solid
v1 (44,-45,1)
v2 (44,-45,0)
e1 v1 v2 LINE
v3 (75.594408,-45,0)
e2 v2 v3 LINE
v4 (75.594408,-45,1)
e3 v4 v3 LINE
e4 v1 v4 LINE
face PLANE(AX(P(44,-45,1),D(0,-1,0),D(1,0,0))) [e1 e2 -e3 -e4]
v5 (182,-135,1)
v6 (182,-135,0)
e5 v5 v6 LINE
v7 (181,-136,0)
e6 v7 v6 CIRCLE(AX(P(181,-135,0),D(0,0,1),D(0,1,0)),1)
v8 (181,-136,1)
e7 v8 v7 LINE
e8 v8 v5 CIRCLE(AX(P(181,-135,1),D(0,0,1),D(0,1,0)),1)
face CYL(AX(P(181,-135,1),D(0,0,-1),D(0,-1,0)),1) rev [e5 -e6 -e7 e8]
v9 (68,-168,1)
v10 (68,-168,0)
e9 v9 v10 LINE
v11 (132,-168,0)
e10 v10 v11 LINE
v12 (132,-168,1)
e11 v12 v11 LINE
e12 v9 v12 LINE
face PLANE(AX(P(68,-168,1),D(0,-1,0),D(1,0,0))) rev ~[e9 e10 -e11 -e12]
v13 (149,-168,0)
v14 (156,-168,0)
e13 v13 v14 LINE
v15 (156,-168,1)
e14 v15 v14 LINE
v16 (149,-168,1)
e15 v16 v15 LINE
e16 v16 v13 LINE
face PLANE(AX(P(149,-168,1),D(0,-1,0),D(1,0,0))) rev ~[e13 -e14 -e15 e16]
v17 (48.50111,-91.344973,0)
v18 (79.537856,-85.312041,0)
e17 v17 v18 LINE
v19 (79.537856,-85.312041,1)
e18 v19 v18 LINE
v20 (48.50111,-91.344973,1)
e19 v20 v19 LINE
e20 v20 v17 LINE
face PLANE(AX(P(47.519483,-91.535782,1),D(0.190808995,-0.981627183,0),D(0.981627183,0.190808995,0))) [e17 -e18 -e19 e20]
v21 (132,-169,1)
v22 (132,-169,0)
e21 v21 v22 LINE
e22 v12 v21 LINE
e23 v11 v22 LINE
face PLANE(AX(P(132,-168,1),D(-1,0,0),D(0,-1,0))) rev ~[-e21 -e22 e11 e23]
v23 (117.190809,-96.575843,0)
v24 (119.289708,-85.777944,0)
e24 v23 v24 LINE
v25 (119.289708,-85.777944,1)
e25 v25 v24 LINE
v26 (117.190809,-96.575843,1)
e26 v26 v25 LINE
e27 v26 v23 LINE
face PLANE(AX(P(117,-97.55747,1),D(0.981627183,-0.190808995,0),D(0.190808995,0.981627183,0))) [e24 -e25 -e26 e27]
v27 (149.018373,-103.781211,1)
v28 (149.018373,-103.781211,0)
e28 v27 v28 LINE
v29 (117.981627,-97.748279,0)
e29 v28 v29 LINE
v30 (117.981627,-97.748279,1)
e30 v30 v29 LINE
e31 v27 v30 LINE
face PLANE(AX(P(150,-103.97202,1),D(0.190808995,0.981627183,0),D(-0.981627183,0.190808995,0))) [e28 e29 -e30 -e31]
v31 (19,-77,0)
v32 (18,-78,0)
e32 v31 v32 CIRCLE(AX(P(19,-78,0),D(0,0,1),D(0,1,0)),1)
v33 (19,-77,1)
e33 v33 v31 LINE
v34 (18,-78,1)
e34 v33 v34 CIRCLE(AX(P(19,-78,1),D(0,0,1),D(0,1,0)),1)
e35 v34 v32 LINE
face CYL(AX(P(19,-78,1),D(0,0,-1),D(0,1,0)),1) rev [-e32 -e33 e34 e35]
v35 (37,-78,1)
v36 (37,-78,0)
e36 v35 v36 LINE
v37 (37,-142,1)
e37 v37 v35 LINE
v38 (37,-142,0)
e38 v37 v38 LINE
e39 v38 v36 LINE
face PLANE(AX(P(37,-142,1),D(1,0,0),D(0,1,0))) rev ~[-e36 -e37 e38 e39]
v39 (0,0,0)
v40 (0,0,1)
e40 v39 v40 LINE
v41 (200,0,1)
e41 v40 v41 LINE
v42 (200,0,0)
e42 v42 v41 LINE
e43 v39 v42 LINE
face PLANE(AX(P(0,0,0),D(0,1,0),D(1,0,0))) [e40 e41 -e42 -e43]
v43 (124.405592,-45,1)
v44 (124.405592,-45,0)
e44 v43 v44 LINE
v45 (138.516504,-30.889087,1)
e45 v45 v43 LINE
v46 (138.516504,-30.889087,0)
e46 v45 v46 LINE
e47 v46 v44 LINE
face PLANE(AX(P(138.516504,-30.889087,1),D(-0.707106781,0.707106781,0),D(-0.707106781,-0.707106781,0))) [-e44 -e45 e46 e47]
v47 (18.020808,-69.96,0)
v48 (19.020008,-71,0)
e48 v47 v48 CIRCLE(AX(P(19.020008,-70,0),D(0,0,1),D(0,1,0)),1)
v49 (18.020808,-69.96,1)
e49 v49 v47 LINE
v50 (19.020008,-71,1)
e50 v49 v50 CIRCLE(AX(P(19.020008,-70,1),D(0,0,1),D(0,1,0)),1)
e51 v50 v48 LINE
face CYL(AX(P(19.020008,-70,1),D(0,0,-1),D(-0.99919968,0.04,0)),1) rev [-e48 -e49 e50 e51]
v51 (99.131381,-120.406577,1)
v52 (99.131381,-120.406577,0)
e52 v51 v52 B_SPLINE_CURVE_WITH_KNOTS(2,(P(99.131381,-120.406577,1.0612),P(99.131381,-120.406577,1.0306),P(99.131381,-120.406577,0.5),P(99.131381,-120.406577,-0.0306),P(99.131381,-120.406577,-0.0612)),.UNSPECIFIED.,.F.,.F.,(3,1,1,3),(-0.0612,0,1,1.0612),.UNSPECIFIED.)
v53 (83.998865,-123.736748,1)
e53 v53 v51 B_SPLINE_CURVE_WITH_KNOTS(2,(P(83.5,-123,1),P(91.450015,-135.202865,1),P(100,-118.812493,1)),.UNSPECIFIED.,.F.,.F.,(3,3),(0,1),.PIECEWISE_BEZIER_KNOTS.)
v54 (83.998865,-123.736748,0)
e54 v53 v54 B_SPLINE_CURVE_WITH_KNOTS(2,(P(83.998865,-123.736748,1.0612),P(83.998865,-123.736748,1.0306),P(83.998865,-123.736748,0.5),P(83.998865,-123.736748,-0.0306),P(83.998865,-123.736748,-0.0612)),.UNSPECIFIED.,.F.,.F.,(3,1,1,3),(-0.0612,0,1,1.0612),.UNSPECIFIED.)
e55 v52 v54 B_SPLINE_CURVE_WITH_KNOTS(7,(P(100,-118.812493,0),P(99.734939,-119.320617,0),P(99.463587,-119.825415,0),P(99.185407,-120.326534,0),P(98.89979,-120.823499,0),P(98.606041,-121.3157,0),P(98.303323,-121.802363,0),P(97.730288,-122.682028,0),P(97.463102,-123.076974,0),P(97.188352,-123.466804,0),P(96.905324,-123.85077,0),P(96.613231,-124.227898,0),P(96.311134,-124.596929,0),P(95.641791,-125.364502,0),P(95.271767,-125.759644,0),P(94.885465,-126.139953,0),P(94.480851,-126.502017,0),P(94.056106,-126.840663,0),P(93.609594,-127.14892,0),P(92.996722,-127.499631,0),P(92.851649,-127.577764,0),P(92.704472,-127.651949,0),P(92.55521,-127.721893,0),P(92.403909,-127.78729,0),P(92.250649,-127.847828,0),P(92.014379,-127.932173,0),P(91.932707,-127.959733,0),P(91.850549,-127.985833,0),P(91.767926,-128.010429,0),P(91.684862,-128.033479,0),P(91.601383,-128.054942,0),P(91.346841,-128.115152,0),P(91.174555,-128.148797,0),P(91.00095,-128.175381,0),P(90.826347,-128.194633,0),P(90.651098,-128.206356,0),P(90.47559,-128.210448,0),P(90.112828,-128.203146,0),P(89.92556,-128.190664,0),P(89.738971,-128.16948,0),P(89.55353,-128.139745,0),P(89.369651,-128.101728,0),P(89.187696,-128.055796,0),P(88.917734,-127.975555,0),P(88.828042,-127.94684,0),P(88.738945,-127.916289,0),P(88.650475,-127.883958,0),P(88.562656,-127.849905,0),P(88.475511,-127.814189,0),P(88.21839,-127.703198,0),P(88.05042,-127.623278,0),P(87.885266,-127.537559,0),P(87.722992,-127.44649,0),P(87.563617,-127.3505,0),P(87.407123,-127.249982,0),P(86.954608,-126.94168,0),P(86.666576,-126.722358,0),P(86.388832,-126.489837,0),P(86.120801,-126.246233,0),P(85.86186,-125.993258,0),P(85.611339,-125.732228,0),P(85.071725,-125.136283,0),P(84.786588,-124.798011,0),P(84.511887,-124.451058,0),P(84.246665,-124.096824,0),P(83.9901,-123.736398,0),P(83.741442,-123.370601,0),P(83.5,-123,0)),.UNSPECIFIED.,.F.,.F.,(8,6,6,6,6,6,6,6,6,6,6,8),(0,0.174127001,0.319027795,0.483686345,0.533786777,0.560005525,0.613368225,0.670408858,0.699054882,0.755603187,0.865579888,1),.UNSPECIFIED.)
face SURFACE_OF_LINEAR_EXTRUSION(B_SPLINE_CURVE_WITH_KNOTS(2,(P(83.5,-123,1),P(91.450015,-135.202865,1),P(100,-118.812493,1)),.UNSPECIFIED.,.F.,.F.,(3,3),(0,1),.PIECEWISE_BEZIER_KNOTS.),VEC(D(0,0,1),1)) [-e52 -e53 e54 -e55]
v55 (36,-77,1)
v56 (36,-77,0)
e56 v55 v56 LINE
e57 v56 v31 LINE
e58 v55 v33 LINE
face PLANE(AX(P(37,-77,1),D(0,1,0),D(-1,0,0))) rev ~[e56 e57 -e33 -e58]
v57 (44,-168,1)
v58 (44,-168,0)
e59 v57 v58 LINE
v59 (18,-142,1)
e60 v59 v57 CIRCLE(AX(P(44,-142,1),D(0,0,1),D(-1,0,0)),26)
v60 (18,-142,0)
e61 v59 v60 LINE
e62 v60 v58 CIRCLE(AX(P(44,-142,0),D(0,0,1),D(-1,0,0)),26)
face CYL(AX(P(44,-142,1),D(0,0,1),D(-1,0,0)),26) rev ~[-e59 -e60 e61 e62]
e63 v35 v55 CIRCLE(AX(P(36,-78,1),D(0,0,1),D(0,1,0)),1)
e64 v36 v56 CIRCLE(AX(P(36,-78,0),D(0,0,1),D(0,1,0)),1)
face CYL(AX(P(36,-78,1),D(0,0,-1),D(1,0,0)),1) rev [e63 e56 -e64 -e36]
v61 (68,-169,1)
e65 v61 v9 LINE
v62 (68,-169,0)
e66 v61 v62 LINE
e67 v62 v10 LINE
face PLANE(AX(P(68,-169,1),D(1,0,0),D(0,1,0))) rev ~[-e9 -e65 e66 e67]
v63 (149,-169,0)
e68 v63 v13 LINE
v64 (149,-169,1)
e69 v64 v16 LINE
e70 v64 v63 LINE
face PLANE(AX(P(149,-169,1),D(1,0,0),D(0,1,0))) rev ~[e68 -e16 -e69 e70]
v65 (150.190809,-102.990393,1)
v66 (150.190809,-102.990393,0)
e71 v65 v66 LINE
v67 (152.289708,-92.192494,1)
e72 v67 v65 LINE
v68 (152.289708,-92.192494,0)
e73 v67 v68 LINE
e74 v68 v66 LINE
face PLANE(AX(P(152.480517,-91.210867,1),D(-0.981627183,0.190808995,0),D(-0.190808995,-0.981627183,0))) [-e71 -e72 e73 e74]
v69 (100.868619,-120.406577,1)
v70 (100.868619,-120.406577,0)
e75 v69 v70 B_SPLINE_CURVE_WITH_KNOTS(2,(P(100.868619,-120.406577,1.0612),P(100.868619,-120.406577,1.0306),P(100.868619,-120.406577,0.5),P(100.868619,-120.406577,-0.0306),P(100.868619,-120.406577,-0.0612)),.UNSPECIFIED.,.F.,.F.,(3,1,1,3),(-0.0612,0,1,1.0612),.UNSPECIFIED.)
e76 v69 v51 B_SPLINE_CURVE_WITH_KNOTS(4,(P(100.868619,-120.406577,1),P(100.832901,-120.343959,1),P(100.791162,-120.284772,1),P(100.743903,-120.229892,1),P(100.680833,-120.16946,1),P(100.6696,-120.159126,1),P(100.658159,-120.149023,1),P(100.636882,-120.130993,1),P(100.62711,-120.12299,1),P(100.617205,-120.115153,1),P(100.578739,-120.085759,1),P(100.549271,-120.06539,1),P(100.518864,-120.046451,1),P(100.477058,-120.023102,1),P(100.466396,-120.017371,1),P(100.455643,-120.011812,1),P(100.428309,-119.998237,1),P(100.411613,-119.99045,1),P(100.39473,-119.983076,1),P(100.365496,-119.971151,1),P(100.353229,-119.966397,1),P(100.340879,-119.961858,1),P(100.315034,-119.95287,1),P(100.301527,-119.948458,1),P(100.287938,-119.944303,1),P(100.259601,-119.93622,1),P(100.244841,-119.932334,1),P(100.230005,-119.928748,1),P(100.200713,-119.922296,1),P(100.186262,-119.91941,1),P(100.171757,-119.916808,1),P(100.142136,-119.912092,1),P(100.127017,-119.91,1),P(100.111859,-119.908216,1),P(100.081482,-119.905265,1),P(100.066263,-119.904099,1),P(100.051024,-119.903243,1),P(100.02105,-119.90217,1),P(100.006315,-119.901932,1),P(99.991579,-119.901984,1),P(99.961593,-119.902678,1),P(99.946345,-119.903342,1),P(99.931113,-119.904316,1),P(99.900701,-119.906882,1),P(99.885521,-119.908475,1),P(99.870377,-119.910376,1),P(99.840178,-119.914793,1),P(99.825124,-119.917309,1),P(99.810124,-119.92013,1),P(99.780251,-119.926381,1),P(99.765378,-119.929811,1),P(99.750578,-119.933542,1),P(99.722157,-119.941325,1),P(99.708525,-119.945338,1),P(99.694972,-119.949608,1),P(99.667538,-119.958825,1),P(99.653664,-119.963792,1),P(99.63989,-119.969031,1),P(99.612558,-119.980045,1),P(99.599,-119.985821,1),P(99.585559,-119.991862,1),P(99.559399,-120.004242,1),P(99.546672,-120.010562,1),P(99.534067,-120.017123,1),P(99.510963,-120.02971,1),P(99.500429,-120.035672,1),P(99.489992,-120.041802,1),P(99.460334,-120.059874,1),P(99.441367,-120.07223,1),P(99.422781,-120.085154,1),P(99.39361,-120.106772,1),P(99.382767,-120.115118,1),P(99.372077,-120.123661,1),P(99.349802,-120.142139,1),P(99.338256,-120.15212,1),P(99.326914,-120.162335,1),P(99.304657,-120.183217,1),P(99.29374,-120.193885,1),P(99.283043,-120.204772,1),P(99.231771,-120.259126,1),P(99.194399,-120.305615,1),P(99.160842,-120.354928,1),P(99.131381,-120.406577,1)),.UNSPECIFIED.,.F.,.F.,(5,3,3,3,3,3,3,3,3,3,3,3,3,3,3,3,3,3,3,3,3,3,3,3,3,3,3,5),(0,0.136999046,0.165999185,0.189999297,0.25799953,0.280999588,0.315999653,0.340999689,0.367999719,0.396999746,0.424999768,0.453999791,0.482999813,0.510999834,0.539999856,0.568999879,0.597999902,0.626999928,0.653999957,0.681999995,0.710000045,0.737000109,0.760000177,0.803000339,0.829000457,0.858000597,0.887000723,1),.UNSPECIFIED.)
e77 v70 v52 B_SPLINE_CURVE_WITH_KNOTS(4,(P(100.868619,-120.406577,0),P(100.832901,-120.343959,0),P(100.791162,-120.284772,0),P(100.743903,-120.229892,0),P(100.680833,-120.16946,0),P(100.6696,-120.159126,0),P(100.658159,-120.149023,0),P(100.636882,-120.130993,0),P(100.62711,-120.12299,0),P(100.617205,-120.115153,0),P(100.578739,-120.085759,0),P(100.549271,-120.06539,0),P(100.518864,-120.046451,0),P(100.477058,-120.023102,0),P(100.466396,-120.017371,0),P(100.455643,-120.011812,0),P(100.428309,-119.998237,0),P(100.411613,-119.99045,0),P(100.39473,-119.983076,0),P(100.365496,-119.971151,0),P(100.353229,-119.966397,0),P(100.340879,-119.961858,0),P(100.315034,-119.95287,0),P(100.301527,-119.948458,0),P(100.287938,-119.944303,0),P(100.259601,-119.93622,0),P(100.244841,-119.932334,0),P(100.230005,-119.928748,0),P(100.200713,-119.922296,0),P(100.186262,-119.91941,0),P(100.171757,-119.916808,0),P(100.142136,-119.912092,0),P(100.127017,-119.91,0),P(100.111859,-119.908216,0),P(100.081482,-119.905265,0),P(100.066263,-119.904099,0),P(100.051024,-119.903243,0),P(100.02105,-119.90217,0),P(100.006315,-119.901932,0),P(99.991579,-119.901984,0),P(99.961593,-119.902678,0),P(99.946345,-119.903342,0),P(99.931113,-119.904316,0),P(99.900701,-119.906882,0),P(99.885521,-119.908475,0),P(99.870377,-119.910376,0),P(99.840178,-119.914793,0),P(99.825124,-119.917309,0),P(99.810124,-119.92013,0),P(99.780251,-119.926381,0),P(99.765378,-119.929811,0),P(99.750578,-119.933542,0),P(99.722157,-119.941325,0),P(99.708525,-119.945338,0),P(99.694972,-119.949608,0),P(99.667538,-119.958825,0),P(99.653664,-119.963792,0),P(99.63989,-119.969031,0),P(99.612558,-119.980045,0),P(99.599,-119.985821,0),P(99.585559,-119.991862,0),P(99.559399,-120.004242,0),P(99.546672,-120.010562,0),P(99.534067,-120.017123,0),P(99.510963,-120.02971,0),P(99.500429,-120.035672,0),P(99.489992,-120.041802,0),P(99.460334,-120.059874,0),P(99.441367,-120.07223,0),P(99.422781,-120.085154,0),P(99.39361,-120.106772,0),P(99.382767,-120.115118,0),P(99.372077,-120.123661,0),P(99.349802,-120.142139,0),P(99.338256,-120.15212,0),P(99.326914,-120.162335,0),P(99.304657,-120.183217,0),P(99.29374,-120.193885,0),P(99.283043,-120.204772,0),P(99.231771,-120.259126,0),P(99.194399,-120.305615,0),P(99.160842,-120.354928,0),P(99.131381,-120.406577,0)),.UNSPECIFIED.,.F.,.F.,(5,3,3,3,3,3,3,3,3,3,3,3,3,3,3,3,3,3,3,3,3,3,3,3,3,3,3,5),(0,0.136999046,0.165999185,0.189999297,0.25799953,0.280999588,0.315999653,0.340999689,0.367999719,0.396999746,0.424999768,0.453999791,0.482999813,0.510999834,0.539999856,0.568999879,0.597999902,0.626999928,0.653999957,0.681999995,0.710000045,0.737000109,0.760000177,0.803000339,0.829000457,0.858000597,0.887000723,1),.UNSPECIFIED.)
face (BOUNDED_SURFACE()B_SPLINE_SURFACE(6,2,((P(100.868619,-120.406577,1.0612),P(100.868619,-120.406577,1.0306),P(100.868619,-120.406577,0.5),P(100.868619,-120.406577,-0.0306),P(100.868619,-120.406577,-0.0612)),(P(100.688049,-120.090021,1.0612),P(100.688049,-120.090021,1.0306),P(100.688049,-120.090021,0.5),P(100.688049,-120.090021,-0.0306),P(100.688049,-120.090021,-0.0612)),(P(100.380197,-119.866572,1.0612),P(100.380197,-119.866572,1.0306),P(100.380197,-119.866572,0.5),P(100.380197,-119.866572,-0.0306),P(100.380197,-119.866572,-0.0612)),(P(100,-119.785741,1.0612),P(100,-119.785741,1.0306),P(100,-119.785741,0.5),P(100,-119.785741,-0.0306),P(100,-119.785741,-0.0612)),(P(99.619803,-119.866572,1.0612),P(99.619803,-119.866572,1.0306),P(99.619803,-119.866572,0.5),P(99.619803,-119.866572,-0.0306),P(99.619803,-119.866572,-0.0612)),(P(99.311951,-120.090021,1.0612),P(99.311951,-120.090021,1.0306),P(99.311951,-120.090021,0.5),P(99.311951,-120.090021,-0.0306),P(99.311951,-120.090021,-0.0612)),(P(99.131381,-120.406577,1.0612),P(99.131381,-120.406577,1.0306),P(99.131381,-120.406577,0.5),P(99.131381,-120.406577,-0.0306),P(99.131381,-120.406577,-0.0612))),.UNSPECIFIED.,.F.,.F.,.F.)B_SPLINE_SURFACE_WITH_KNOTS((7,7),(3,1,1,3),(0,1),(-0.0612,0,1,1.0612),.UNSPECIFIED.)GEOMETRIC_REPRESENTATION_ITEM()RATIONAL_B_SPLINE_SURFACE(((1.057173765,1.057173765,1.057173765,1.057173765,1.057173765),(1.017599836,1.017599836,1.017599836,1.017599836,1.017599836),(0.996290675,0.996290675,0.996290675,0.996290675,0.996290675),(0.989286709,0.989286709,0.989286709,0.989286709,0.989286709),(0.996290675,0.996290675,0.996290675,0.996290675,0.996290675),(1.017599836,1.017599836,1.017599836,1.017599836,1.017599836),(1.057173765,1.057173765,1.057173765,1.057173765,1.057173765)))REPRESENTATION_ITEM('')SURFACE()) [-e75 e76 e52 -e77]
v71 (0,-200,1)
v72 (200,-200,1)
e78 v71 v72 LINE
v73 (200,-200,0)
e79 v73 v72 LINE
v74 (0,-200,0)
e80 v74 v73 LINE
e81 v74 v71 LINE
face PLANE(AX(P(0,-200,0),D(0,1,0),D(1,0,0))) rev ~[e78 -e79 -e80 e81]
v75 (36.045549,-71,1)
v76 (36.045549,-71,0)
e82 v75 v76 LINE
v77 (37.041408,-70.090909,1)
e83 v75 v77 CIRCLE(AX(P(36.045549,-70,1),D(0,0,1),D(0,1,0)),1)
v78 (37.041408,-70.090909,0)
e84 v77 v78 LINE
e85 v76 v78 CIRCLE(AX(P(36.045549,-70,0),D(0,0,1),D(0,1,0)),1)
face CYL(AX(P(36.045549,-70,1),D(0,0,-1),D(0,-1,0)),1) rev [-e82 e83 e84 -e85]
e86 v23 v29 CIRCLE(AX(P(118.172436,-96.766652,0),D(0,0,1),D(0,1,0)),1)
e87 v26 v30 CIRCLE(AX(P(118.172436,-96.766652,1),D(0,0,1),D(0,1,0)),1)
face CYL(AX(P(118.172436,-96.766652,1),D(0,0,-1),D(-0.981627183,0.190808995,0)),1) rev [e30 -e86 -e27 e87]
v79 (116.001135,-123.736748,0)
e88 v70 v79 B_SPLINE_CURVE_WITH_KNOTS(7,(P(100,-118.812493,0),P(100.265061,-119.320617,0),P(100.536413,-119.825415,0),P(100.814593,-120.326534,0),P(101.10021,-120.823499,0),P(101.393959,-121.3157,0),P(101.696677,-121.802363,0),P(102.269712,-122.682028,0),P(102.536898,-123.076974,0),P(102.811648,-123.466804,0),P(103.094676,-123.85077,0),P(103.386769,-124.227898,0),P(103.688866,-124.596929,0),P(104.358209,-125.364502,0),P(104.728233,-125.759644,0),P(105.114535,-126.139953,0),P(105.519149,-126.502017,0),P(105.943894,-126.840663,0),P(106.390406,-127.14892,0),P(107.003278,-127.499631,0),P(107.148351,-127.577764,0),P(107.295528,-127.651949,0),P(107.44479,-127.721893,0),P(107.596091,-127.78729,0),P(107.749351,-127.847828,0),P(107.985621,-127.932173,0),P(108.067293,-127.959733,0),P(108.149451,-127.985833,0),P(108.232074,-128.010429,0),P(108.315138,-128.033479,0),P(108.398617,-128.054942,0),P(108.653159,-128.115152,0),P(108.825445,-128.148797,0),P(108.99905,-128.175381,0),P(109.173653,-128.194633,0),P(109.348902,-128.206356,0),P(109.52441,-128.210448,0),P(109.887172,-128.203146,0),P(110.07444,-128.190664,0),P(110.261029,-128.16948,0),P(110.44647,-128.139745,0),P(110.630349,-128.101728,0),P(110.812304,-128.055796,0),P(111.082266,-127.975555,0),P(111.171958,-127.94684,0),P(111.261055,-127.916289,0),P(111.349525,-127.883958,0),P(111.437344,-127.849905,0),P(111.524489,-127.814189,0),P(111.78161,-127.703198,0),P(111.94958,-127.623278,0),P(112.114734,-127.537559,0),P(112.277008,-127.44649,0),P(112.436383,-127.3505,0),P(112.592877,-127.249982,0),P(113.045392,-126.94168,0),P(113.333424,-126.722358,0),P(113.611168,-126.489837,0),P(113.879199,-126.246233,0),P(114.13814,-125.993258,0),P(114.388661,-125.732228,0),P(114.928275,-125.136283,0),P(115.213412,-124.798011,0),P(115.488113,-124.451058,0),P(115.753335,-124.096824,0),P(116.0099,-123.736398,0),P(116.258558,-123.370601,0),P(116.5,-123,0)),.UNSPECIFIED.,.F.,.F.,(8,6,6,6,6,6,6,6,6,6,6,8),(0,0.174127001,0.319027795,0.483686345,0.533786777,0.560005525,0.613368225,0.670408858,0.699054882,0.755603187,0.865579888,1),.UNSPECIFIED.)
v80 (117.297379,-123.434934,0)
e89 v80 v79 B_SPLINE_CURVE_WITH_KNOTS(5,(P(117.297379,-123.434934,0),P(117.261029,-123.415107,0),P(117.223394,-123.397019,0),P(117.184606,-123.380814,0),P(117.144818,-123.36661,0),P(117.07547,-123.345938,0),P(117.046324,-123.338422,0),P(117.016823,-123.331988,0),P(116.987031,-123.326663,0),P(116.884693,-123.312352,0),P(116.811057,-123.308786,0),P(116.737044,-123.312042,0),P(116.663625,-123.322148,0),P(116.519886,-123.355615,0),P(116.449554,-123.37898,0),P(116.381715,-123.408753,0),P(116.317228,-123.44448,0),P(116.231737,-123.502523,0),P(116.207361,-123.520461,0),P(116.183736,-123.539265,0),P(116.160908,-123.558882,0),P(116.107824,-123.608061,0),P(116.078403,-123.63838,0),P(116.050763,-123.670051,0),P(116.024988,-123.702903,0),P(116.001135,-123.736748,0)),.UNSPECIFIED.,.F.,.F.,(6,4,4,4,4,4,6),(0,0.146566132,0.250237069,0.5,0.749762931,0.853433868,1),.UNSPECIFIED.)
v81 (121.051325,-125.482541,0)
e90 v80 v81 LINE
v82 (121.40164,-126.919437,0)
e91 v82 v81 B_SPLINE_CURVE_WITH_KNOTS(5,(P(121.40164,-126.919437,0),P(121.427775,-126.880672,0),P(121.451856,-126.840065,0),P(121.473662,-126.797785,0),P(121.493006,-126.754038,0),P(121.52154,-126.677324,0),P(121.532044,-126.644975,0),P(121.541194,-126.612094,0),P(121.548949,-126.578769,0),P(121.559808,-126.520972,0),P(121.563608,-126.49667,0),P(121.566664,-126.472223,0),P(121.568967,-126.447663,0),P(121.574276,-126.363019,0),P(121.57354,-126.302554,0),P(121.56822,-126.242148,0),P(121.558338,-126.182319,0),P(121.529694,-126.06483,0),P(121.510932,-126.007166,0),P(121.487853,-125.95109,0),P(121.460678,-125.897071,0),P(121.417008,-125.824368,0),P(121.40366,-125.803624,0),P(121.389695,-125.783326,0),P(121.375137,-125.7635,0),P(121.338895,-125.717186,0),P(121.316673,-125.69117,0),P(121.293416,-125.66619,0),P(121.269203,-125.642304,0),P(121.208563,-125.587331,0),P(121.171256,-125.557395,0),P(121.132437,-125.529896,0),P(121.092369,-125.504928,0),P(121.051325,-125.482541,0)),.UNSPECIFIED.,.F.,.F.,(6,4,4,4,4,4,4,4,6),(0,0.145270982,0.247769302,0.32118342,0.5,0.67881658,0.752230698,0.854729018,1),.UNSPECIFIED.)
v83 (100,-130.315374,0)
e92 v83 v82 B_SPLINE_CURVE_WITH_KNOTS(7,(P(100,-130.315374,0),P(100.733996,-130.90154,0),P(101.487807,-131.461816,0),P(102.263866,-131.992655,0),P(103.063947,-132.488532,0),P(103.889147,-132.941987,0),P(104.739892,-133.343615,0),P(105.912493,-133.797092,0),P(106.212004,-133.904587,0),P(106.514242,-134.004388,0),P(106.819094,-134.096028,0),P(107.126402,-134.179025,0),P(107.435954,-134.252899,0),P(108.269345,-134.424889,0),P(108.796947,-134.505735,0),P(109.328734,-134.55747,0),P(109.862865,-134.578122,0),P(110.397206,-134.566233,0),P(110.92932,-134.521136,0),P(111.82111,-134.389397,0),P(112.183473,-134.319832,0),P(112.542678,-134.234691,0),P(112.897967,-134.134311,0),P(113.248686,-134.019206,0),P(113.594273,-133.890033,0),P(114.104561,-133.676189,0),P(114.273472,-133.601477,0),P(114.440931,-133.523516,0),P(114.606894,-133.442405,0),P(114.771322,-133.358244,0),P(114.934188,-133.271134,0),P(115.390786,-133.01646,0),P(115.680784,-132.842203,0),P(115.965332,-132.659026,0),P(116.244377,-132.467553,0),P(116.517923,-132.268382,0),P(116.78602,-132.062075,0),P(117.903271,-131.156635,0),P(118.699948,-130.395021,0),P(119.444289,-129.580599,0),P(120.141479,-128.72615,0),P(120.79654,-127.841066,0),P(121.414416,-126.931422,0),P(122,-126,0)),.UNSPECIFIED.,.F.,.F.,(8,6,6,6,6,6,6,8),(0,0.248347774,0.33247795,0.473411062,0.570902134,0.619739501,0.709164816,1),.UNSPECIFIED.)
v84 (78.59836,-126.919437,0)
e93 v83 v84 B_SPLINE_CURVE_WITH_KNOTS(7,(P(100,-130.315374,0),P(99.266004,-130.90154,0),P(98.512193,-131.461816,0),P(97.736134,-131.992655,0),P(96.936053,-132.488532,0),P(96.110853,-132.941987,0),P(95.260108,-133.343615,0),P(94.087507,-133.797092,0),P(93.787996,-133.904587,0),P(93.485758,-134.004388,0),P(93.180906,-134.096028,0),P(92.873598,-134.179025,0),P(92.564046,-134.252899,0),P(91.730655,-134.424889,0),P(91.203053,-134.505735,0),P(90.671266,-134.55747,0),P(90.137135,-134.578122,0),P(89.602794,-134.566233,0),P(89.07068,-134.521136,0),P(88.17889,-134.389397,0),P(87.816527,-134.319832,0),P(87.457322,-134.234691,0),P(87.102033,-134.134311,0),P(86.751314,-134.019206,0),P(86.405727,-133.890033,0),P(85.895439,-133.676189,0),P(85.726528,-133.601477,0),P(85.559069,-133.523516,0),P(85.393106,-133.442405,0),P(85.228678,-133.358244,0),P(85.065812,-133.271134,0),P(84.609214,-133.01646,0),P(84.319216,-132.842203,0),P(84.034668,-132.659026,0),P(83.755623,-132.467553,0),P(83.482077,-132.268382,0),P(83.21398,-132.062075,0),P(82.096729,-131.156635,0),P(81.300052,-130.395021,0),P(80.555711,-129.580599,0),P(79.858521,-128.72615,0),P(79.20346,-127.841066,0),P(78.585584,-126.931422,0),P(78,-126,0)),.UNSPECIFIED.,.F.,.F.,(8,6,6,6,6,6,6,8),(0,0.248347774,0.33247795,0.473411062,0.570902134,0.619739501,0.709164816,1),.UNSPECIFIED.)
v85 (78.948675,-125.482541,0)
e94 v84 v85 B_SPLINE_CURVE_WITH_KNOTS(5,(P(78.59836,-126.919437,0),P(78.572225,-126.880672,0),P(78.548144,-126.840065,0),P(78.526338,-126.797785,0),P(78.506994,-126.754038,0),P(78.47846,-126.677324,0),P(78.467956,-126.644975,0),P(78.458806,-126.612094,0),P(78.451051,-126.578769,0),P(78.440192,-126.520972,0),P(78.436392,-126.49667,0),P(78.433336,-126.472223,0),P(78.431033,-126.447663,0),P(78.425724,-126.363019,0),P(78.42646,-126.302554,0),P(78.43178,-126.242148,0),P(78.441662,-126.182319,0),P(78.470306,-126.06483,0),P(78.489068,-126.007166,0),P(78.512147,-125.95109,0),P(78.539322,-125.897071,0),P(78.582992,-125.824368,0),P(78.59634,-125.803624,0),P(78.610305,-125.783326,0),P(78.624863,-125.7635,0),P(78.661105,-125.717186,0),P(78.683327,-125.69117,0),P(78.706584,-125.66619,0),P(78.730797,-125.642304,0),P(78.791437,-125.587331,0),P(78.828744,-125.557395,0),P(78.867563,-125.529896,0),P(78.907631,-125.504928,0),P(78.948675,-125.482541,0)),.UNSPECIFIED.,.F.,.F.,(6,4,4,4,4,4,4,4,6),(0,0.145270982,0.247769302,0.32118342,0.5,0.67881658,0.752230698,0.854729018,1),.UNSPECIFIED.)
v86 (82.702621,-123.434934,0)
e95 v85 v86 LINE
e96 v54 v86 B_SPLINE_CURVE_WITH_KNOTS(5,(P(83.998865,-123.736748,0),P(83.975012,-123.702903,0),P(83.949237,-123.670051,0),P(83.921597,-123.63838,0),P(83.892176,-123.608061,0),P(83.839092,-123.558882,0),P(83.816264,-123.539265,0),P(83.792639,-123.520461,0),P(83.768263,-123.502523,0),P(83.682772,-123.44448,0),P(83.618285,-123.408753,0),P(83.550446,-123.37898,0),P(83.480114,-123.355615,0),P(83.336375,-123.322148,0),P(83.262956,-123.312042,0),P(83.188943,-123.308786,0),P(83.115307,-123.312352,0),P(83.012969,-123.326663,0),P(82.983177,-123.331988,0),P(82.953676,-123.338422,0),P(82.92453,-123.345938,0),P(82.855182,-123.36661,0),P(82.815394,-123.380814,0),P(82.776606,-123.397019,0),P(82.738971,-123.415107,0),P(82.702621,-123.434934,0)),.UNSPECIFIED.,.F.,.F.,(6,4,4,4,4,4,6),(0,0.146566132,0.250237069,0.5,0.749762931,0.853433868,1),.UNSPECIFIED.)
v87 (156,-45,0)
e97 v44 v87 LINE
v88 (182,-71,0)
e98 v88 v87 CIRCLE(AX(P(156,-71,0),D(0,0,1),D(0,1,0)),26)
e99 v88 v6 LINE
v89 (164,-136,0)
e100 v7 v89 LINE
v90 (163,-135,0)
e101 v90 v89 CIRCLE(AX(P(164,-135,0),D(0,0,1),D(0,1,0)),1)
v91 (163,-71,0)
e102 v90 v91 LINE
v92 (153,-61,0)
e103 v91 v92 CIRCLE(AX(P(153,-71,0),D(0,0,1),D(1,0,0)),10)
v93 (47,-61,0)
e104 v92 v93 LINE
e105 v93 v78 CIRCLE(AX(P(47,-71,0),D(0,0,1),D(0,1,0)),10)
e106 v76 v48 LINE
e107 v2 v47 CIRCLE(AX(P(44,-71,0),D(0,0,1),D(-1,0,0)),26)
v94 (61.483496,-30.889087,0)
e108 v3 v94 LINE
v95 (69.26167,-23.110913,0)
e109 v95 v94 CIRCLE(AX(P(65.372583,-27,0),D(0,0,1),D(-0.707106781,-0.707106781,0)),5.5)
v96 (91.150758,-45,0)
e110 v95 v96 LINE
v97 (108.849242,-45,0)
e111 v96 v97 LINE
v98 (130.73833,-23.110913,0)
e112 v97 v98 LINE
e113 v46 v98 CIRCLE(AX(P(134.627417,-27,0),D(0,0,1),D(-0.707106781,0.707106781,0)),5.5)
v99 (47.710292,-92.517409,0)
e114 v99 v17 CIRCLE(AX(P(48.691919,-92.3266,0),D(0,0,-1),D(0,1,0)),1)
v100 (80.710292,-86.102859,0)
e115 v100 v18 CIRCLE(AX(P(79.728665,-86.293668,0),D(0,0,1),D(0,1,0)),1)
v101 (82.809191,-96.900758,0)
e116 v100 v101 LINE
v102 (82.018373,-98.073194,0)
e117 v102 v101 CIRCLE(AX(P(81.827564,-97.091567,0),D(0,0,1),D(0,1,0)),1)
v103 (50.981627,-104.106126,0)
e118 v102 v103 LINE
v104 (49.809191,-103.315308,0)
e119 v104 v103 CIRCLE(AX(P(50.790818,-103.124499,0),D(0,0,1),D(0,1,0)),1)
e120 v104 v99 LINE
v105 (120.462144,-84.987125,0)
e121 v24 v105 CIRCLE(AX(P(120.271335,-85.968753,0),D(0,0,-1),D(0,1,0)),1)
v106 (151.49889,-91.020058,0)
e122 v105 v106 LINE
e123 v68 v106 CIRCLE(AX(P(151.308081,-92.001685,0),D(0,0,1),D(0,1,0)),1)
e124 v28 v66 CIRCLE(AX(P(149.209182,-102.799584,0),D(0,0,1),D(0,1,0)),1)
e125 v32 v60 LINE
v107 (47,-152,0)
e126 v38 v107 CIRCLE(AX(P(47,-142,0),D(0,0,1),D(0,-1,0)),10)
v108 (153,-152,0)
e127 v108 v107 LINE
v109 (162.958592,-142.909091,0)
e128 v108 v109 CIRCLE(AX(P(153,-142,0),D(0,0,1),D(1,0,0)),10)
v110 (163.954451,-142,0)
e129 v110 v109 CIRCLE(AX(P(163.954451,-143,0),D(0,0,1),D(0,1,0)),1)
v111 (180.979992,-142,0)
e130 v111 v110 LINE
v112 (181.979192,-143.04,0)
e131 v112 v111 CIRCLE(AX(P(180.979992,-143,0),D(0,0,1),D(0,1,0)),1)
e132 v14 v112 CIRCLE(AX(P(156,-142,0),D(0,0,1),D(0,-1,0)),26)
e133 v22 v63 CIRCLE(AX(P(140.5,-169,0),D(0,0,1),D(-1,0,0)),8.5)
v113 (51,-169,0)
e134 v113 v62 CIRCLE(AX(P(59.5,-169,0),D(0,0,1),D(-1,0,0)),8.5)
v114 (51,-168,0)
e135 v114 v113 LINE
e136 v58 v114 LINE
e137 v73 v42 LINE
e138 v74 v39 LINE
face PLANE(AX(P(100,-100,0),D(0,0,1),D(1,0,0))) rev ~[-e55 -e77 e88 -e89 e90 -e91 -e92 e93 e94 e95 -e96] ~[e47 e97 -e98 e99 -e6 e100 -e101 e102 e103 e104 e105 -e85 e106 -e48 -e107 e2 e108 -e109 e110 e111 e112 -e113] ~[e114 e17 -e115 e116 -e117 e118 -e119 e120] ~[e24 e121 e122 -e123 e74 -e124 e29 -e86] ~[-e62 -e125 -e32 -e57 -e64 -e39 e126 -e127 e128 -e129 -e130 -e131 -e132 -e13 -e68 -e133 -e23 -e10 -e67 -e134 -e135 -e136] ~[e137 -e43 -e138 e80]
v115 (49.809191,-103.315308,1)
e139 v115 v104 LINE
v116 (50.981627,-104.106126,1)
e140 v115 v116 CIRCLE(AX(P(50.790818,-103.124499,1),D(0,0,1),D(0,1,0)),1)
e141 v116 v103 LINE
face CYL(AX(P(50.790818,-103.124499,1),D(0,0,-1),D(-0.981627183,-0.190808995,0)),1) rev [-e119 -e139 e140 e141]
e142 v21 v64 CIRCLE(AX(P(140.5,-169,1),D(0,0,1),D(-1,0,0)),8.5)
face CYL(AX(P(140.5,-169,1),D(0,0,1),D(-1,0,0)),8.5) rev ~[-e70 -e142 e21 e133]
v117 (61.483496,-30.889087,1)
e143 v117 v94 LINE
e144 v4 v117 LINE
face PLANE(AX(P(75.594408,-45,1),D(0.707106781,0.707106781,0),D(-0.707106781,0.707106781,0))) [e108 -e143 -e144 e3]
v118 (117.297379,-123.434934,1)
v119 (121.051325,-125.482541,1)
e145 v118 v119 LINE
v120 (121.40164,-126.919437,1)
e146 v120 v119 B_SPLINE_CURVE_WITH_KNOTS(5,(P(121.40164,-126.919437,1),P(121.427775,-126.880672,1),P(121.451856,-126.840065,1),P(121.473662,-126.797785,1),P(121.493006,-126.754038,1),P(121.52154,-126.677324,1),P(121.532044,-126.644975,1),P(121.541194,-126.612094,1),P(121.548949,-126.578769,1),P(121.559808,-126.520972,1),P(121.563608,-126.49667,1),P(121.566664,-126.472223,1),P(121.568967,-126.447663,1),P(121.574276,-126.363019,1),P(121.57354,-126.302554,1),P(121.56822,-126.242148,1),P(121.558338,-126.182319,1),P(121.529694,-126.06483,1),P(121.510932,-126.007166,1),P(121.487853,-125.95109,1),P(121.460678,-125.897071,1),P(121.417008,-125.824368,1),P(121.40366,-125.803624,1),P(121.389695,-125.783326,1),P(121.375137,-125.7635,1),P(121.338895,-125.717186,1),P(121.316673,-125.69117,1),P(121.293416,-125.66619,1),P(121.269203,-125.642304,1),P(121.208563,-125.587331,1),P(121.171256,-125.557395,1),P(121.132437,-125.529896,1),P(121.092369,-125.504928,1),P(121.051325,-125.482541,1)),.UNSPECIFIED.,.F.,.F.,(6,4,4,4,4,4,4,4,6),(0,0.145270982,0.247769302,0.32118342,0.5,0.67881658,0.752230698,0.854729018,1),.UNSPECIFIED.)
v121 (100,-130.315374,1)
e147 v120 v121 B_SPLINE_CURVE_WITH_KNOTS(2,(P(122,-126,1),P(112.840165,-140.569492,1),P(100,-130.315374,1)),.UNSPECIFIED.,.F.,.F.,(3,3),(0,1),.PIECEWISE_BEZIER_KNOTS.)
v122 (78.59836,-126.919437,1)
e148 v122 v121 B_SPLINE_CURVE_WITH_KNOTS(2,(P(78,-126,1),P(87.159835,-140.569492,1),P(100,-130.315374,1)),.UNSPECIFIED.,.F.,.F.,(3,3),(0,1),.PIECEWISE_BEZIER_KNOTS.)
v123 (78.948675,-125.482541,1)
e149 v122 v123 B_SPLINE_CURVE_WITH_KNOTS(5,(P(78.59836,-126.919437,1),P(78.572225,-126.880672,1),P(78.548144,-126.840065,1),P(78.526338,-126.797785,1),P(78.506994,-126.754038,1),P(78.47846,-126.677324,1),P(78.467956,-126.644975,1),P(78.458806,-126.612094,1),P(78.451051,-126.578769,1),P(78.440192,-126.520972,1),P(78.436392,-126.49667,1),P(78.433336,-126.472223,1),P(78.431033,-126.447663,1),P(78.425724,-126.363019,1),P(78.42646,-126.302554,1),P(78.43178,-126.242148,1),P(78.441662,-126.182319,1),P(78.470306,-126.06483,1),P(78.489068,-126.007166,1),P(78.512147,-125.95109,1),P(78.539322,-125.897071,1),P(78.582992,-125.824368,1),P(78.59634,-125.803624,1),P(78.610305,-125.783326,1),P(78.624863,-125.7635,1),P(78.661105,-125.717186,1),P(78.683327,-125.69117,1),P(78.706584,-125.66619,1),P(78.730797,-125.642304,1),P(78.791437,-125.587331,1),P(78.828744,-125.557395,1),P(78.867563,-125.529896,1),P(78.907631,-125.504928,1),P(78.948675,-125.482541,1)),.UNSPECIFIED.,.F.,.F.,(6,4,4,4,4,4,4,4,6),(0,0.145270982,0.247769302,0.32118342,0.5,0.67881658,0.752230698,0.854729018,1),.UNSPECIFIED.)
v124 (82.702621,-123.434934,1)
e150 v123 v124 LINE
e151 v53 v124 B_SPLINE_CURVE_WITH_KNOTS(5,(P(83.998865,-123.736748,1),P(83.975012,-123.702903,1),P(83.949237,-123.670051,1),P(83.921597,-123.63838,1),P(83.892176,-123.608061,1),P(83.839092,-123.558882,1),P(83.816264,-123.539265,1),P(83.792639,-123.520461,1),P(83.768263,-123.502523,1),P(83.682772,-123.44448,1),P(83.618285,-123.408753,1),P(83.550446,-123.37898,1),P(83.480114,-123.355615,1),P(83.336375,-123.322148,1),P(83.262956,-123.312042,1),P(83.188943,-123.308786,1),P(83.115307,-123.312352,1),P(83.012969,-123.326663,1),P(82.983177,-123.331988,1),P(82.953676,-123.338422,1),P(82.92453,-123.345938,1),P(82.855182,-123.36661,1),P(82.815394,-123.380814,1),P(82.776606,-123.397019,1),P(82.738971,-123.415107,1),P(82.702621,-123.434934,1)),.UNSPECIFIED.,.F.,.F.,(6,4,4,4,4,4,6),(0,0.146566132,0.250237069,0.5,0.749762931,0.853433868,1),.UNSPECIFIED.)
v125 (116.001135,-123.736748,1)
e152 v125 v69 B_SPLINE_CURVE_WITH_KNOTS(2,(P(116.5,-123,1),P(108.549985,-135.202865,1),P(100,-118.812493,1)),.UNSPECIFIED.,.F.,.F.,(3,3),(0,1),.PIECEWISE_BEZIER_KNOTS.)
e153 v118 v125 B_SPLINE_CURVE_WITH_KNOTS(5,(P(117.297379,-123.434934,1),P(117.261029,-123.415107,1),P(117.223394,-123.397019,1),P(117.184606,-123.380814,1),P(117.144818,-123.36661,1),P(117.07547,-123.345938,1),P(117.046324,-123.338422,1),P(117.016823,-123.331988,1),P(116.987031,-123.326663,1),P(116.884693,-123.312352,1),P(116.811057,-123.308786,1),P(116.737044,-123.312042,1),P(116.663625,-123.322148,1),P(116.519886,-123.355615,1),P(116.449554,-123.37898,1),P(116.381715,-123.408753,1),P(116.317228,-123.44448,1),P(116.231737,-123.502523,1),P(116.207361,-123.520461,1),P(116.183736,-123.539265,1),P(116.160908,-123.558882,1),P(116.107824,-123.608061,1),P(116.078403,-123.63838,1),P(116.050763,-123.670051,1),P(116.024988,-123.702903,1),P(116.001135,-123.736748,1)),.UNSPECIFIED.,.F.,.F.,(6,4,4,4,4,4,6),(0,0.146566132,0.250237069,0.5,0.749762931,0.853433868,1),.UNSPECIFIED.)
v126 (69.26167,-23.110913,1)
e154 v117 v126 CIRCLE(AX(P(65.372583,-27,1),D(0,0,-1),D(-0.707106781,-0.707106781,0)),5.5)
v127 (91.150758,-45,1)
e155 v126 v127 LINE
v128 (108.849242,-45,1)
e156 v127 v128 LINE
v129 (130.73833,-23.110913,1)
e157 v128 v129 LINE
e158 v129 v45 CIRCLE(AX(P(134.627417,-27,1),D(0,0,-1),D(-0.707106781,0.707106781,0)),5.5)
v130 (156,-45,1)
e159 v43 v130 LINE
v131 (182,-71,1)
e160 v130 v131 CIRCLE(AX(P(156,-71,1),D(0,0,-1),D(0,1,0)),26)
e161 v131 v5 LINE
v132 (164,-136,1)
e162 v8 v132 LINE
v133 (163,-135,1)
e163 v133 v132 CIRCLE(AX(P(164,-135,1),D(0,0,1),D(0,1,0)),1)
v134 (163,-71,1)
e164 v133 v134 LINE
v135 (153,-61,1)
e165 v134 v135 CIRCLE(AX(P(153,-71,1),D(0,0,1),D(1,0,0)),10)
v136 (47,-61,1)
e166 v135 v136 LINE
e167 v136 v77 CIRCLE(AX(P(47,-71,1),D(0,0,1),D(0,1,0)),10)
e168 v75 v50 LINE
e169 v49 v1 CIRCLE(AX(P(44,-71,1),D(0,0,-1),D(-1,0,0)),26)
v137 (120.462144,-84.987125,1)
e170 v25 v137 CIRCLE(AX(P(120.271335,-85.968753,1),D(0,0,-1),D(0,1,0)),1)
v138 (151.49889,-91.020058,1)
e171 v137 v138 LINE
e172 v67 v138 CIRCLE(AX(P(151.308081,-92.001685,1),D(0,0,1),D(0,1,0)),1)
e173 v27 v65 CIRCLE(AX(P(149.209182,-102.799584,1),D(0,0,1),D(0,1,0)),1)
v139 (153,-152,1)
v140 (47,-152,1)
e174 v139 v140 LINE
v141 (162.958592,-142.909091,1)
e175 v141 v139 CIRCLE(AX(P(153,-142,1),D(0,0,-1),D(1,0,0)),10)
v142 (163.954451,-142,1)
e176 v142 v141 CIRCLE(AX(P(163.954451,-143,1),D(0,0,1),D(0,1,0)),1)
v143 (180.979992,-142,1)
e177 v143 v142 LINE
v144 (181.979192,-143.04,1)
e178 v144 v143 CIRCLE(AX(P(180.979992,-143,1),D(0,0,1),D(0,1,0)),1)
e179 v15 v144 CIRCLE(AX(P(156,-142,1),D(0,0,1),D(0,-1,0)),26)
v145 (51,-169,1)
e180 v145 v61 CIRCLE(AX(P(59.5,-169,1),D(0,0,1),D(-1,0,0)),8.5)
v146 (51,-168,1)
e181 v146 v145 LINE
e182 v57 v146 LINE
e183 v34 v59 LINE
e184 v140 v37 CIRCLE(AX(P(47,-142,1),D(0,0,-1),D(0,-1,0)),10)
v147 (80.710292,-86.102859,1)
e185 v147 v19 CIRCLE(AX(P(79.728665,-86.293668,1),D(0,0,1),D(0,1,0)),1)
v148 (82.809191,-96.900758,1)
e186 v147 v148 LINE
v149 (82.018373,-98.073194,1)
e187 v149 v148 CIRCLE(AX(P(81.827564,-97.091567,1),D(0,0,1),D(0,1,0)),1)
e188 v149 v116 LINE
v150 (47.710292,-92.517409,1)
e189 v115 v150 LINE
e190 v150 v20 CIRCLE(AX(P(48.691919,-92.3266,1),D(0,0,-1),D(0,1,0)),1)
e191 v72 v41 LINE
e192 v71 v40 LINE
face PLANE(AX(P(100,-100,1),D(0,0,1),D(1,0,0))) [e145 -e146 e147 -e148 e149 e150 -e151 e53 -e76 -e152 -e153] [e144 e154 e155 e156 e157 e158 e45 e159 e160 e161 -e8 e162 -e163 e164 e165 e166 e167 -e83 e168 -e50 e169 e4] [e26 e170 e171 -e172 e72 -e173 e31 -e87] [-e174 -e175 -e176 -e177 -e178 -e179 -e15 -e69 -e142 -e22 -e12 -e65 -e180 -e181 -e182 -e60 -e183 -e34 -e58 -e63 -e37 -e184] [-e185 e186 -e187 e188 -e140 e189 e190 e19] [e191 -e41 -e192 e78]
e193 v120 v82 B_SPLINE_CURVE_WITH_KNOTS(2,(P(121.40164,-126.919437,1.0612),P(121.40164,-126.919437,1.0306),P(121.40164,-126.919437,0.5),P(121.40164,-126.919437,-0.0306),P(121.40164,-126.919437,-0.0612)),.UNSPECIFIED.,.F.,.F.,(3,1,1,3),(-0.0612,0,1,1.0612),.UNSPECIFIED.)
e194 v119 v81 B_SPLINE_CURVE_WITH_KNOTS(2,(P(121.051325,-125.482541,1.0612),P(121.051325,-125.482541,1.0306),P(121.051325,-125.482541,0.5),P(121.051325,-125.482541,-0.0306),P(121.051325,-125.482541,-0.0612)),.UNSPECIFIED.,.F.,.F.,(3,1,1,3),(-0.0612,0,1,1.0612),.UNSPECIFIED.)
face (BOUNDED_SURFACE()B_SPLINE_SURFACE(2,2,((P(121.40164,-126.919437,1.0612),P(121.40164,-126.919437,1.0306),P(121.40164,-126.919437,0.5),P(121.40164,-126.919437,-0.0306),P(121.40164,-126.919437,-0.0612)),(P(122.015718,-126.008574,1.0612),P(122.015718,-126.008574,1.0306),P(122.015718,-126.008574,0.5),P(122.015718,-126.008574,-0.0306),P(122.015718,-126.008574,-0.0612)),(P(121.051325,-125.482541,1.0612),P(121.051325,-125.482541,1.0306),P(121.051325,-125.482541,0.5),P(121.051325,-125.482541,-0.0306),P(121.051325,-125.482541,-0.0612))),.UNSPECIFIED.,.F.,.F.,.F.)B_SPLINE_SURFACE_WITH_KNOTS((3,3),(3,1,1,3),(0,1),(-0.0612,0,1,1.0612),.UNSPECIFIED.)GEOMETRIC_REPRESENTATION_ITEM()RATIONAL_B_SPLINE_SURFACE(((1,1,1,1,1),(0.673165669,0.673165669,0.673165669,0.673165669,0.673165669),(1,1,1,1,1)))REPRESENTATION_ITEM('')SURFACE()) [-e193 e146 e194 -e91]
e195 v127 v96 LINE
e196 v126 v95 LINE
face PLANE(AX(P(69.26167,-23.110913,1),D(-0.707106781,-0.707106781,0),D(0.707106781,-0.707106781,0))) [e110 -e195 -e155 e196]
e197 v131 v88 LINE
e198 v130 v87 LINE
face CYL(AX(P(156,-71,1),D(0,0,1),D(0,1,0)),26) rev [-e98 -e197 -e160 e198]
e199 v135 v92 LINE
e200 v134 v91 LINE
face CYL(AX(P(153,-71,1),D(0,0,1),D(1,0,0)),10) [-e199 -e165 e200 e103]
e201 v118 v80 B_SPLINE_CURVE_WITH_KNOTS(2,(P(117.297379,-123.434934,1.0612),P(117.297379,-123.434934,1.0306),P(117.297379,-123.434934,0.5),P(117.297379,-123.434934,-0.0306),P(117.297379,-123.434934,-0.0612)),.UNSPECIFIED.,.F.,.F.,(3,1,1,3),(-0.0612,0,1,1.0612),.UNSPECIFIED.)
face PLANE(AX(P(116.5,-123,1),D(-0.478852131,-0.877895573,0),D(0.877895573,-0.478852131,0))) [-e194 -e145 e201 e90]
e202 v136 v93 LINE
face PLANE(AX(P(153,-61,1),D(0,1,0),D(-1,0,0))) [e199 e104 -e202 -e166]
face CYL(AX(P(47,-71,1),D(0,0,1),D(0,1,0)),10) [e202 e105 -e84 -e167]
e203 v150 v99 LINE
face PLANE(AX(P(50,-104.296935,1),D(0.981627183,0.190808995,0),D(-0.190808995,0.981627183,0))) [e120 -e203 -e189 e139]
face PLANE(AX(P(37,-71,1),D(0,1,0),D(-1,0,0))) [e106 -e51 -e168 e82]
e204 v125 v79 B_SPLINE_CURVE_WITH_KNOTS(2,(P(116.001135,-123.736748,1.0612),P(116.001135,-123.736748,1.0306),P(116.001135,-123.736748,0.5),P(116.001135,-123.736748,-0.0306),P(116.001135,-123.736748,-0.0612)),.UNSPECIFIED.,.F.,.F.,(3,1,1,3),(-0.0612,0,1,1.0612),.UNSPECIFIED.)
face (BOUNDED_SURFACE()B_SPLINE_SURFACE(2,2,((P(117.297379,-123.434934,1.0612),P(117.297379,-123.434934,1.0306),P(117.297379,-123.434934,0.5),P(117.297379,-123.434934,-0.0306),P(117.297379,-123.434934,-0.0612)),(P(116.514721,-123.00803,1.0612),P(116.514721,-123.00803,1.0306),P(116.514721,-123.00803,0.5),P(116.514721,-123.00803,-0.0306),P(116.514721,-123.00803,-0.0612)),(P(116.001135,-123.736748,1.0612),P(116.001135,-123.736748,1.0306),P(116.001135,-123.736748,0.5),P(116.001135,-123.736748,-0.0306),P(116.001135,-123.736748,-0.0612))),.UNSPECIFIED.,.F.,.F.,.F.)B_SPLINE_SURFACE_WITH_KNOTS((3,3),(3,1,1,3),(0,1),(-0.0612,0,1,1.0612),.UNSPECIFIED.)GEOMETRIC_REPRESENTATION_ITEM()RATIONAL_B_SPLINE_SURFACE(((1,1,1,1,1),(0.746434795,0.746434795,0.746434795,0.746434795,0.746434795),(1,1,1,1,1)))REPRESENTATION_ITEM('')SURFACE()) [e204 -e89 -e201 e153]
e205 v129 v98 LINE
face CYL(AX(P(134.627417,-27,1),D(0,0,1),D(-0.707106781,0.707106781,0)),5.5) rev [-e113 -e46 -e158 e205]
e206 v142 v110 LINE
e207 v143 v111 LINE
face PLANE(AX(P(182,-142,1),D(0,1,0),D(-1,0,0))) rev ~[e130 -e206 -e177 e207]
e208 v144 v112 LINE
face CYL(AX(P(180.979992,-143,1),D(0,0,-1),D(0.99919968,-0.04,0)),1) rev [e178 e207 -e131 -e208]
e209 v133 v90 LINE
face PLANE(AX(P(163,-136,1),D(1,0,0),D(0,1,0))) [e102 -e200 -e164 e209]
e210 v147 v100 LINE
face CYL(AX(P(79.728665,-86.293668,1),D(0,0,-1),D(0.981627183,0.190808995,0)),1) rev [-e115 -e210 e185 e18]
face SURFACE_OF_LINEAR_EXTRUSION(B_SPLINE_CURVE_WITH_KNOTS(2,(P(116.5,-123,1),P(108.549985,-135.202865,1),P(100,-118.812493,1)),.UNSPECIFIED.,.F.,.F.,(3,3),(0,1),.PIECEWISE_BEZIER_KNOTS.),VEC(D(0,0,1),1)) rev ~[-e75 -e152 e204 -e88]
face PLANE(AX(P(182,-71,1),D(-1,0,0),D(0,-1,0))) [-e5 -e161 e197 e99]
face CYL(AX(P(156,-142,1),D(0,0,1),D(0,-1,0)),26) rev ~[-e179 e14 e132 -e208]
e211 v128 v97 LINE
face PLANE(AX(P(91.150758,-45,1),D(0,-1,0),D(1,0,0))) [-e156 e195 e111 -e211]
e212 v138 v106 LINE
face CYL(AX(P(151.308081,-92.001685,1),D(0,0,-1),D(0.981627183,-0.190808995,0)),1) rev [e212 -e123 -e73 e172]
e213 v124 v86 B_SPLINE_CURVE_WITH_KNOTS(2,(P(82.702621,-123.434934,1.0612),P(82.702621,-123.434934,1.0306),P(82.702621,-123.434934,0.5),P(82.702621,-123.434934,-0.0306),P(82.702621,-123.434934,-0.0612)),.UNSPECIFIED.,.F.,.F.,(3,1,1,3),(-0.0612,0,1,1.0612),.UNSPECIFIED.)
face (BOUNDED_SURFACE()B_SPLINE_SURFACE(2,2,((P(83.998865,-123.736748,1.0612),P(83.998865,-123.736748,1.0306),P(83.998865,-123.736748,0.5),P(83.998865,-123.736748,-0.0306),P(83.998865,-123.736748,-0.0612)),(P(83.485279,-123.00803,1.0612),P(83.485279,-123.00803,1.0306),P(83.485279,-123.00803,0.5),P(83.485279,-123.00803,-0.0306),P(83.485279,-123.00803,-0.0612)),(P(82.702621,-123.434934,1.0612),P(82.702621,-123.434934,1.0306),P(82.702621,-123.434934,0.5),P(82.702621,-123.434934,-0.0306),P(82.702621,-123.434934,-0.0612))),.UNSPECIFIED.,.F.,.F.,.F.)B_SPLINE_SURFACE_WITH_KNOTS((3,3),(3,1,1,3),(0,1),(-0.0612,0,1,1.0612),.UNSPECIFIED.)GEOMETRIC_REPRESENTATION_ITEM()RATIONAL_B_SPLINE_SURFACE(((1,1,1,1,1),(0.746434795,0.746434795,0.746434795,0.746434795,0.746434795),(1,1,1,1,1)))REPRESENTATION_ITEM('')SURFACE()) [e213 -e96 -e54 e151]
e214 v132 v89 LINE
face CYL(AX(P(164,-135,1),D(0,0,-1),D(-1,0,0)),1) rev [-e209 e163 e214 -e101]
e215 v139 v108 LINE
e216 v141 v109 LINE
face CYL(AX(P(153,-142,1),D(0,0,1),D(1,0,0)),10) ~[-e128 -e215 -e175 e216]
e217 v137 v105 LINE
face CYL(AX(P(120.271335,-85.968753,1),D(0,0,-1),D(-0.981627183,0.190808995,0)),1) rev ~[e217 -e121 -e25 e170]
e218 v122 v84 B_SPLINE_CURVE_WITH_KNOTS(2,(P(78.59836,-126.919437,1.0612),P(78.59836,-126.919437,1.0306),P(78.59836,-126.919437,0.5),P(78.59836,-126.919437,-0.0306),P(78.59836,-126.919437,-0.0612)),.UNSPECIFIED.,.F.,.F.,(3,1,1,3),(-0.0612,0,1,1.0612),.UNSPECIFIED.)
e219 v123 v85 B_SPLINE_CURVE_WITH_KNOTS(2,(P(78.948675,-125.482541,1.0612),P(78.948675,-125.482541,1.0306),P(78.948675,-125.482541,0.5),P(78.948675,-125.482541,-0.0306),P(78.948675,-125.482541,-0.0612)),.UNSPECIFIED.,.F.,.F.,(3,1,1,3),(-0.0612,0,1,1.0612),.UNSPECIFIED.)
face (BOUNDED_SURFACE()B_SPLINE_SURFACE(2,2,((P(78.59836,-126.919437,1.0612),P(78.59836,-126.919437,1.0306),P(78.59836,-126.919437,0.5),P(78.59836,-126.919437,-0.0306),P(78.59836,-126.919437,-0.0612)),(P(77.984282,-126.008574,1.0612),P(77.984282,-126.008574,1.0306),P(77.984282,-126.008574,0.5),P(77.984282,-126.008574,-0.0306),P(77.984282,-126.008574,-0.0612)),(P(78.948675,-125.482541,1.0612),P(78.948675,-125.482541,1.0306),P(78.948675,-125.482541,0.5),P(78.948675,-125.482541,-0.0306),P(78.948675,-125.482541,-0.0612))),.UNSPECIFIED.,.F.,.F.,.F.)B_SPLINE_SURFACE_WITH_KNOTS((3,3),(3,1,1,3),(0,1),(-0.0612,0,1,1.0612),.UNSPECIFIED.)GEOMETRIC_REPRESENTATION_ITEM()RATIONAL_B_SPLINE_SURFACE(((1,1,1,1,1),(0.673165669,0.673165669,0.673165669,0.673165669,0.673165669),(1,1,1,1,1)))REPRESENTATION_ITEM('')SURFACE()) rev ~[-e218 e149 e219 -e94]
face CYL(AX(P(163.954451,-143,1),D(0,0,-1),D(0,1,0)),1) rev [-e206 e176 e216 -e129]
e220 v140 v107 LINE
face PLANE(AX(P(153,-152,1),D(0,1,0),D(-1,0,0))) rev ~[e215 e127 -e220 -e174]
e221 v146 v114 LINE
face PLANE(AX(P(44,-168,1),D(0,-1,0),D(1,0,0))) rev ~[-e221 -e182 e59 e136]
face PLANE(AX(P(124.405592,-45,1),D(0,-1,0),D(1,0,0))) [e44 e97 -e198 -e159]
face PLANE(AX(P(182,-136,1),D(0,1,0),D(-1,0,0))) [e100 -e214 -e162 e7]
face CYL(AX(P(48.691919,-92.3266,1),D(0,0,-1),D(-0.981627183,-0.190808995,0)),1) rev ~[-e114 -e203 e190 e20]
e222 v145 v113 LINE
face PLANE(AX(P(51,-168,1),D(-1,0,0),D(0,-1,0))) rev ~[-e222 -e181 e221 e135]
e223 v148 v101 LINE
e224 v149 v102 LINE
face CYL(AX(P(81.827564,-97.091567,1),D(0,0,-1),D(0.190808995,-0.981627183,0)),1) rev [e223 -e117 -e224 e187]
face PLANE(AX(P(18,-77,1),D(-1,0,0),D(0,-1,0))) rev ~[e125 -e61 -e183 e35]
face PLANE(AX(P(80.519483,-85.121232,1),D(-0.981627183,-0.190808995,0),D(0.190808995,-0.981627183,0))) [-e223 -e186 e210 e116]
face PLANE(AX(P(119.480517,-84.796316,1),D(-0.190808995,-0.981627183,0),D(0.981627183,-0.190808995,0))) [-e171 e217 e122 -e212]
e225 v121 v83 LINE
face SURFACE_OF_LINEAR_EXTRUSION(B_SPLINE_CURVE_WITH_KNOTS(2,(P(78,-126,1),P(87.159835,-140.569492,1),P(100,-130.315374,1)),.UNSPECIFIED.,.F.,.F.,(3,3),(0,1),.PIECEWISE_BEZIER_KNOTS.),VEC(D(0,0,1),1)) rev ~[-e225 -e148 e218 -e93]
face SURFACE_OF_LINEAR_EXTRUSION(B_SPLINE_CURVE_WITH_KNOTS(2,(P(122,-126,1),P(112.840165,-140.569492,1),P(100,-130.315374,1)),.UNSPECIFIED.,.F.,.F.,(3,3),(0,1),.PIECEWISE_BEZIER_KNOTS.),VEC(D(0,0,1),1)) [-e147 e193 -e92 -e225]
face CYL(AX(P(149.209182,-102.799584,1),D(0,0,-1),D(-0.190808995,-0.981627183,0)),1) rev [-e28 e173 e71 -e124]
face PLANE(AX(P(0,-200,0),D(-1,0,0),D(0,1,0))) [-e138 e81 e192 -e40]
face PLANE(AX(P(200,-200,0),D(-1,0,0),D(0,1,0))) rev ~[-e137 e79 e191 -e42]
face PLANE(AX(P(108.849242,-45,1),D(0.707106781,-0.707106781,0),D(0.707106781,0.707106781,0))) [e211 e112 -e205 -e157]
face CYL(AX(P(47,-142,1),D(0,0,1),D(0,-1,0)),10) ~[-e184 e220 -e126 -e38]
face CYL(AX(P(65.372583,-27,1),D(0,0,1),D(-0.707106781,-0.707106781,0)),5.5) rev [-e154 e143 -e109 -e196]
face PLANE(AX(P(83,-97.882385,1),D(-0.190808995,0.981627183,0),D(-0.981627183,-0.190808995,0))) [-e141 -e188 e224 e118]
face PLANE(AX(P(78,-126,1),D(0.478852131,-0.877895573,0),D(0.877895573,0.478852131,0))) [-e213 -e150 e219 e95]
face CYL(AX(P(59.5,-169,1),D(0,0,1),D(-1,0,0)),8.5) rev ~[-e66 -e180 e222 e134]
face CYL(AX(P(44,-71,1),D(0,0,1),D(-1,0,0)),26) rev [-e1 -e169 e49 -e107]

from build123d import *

# Parameters (mm, degrees)
SKETCH_1_W       = 200
SKETCH_1_H       = 200
BACKGROUND_DEPTH = 1
LOGO_DEPTH       = 10
FILLET_R_R       = 1


with BuildPart() as part:
    # 草图1 → Background (new body)
    with BuildSketch(Plane.XY):
        with Locations((100, -100)):
            Rectangle(SKETCH_1_W, SKETCH_1_H)
    extrude(amount=BACKGROUND_DEPTH)

    # 草图2 → Logo (cut)
    with BuildSketch(Plane.XY.offset(1)):
        with BuildLine():
            Line((44, -45), (75.594408409, -45))
            Line((75.594408409, -45), (61.483495706, -30.889087297))
            ThreePointArc((61.483495706, -30.889087297), (61.483495706, -23.110912703), (69.261670299, -23.110912703))
            Line((69.261670299, -23.110912703), (91.150757595, -45))
            Line((91.150757595, -45), (108.849242405, -45))
            Line((108.849242405, -45), (130.738329701, -23.110912703))
            ThreePointArc((130.738329701, -23.110912703), (138.516504294, -23.110912703), (138.516504294, -30.889087297))
            Line((138.516504294, -30.889087297), (124.405591591, -45))
            Line((124.405591591, -45), (156, -45))
            ThreePointArc((156, -45), (174.384776311, -52.615223689), (182, -71))
            Line((182, -71), (182, -136))
            Line((182, -136), (163, -136))
            Line((163, -136), (163, -71))
            ThreePointArc((163, -71), (160.071067812, -63.928932188), (153, -61))
            Line((153, -61), (47, -61))
            ThreePointArc((47, -61), (39.928932188, -63.928932188), (37, -71))
            Line((37, -71), (18, -71))
            ThreePointArc((18, -71), (25.615223689, -52.615223689), (44, -45))
        make_face()
        with BuildLine():
            Line((44, -168), (51, -168))
            Line((51, -168), (51, -169))
            ThreePointArc((51, -169), (59.5, -177.5), (68, -169))
            Line((68, -169), (68, -168))
            Line((68, -168), (132, -168))
            Line((132, -168), (132, -169))
            ThreePointArc((132, -169), (140.5, -177.5), (149, -169))
            Line((149, -169), (149, -168))
            Line((149, -168), (156, -168))
            ThreePointArc((156, -168), (174.384776311, -160.384776311), (182, -142))
            Line((182, -142), (163, -142))
            ThreePointArc((163, -142), (160.071067812, -149.071067812), (153, -152))
            Line((153, -152), (47, -152))
            ThreePointArc((47, -152), (39.928932188, -149.071067812), (37, -142))
            Line((37, -142), (37, -77))
            Line((37, -77), (18, -77))
            Line((18, -77), (18, -142))
            ThreePointArc((18, -142), (25.615223689, -160.384776311), (44, -168))
        make_face()
        Polygon((47.51948306, -91.53578191), (80.51948306, -85.121231708), (83, -97.882385093), (50, -104.296935295), align=None)
        Polygon((119.48051694, -84.796316416), (152.48051694, -91.210866617), (150, -103.972020002), (117, -97.557469801), align=None)
        with BuildLine():
            Line((78, -126), (83.5, -123))
            add(Edge.make_bspline(
                [(83.5, -123), (91.450014857, -135.202864972), (100, -118.812493298)],
                knots=[0, 0, 0, 1, 1, 1], degree=2))
            add(Edge.make_bspline(
                [(116.5, -123), (108.549985143, -135.202864972), (100, -118.812493298)],
                knots=[0, 0, 0, 1, 1, 1], degree=2))
            Line((116.5, -123), (122, -126))
            add(Edge.make_bspline(
                [(122, -126), (112.840164848, -140.569491763), (100, -130.315373567)],
                knots=[0, 0, 0, 1, 1, 1], degree=2))
            add(Edge.make_bspline(
                [(78, -126), (87.159835152, -140.569491763), (100, -130.315373567)],
                knots=[0, 0, 0, 1, 1, 1], degree=2))
        make_face()
    extrude(amount=-LOGO_DEPTH, mode=Mode.SUBTRACT)

    # R
    fillet_r_edges = [part.edges().sort_by_distance(p)[0] for p in [
        (122, -126, 0.5),
        (116.5, -123, 0.5),
        (100, -118.812493298, 0.5),
        (78, -126, 0.5),
        (83.5, -123, 0.5),
        (117, -97.557469801, 0.5),
        (150, -103.972020002, 0.5),
        (152.48051694, -91.210866617, 0.5),
        (119.48051694, -84.796316416, 0.5),
        (50, -104.296935295, 0.5),
        (83, -97.882385093, 0.5),
        (80.51948306, -85.121231708, 0.5),
        (47.51948306, -91.53578191, 0.5),
        (163, -142, 0.5),
        (182, -142, 0.5),
        (182, -136, 0.5),
        (163, -136, 0.5),
        (18, -71, 0.5),
        (37, -71, 0.5),
        (37, -77, 0.5),
        (18, -77, 0.5),
    ]]
    fillet(fillet_r_edges, radius=FILLET_R_R)


solid = part.part
